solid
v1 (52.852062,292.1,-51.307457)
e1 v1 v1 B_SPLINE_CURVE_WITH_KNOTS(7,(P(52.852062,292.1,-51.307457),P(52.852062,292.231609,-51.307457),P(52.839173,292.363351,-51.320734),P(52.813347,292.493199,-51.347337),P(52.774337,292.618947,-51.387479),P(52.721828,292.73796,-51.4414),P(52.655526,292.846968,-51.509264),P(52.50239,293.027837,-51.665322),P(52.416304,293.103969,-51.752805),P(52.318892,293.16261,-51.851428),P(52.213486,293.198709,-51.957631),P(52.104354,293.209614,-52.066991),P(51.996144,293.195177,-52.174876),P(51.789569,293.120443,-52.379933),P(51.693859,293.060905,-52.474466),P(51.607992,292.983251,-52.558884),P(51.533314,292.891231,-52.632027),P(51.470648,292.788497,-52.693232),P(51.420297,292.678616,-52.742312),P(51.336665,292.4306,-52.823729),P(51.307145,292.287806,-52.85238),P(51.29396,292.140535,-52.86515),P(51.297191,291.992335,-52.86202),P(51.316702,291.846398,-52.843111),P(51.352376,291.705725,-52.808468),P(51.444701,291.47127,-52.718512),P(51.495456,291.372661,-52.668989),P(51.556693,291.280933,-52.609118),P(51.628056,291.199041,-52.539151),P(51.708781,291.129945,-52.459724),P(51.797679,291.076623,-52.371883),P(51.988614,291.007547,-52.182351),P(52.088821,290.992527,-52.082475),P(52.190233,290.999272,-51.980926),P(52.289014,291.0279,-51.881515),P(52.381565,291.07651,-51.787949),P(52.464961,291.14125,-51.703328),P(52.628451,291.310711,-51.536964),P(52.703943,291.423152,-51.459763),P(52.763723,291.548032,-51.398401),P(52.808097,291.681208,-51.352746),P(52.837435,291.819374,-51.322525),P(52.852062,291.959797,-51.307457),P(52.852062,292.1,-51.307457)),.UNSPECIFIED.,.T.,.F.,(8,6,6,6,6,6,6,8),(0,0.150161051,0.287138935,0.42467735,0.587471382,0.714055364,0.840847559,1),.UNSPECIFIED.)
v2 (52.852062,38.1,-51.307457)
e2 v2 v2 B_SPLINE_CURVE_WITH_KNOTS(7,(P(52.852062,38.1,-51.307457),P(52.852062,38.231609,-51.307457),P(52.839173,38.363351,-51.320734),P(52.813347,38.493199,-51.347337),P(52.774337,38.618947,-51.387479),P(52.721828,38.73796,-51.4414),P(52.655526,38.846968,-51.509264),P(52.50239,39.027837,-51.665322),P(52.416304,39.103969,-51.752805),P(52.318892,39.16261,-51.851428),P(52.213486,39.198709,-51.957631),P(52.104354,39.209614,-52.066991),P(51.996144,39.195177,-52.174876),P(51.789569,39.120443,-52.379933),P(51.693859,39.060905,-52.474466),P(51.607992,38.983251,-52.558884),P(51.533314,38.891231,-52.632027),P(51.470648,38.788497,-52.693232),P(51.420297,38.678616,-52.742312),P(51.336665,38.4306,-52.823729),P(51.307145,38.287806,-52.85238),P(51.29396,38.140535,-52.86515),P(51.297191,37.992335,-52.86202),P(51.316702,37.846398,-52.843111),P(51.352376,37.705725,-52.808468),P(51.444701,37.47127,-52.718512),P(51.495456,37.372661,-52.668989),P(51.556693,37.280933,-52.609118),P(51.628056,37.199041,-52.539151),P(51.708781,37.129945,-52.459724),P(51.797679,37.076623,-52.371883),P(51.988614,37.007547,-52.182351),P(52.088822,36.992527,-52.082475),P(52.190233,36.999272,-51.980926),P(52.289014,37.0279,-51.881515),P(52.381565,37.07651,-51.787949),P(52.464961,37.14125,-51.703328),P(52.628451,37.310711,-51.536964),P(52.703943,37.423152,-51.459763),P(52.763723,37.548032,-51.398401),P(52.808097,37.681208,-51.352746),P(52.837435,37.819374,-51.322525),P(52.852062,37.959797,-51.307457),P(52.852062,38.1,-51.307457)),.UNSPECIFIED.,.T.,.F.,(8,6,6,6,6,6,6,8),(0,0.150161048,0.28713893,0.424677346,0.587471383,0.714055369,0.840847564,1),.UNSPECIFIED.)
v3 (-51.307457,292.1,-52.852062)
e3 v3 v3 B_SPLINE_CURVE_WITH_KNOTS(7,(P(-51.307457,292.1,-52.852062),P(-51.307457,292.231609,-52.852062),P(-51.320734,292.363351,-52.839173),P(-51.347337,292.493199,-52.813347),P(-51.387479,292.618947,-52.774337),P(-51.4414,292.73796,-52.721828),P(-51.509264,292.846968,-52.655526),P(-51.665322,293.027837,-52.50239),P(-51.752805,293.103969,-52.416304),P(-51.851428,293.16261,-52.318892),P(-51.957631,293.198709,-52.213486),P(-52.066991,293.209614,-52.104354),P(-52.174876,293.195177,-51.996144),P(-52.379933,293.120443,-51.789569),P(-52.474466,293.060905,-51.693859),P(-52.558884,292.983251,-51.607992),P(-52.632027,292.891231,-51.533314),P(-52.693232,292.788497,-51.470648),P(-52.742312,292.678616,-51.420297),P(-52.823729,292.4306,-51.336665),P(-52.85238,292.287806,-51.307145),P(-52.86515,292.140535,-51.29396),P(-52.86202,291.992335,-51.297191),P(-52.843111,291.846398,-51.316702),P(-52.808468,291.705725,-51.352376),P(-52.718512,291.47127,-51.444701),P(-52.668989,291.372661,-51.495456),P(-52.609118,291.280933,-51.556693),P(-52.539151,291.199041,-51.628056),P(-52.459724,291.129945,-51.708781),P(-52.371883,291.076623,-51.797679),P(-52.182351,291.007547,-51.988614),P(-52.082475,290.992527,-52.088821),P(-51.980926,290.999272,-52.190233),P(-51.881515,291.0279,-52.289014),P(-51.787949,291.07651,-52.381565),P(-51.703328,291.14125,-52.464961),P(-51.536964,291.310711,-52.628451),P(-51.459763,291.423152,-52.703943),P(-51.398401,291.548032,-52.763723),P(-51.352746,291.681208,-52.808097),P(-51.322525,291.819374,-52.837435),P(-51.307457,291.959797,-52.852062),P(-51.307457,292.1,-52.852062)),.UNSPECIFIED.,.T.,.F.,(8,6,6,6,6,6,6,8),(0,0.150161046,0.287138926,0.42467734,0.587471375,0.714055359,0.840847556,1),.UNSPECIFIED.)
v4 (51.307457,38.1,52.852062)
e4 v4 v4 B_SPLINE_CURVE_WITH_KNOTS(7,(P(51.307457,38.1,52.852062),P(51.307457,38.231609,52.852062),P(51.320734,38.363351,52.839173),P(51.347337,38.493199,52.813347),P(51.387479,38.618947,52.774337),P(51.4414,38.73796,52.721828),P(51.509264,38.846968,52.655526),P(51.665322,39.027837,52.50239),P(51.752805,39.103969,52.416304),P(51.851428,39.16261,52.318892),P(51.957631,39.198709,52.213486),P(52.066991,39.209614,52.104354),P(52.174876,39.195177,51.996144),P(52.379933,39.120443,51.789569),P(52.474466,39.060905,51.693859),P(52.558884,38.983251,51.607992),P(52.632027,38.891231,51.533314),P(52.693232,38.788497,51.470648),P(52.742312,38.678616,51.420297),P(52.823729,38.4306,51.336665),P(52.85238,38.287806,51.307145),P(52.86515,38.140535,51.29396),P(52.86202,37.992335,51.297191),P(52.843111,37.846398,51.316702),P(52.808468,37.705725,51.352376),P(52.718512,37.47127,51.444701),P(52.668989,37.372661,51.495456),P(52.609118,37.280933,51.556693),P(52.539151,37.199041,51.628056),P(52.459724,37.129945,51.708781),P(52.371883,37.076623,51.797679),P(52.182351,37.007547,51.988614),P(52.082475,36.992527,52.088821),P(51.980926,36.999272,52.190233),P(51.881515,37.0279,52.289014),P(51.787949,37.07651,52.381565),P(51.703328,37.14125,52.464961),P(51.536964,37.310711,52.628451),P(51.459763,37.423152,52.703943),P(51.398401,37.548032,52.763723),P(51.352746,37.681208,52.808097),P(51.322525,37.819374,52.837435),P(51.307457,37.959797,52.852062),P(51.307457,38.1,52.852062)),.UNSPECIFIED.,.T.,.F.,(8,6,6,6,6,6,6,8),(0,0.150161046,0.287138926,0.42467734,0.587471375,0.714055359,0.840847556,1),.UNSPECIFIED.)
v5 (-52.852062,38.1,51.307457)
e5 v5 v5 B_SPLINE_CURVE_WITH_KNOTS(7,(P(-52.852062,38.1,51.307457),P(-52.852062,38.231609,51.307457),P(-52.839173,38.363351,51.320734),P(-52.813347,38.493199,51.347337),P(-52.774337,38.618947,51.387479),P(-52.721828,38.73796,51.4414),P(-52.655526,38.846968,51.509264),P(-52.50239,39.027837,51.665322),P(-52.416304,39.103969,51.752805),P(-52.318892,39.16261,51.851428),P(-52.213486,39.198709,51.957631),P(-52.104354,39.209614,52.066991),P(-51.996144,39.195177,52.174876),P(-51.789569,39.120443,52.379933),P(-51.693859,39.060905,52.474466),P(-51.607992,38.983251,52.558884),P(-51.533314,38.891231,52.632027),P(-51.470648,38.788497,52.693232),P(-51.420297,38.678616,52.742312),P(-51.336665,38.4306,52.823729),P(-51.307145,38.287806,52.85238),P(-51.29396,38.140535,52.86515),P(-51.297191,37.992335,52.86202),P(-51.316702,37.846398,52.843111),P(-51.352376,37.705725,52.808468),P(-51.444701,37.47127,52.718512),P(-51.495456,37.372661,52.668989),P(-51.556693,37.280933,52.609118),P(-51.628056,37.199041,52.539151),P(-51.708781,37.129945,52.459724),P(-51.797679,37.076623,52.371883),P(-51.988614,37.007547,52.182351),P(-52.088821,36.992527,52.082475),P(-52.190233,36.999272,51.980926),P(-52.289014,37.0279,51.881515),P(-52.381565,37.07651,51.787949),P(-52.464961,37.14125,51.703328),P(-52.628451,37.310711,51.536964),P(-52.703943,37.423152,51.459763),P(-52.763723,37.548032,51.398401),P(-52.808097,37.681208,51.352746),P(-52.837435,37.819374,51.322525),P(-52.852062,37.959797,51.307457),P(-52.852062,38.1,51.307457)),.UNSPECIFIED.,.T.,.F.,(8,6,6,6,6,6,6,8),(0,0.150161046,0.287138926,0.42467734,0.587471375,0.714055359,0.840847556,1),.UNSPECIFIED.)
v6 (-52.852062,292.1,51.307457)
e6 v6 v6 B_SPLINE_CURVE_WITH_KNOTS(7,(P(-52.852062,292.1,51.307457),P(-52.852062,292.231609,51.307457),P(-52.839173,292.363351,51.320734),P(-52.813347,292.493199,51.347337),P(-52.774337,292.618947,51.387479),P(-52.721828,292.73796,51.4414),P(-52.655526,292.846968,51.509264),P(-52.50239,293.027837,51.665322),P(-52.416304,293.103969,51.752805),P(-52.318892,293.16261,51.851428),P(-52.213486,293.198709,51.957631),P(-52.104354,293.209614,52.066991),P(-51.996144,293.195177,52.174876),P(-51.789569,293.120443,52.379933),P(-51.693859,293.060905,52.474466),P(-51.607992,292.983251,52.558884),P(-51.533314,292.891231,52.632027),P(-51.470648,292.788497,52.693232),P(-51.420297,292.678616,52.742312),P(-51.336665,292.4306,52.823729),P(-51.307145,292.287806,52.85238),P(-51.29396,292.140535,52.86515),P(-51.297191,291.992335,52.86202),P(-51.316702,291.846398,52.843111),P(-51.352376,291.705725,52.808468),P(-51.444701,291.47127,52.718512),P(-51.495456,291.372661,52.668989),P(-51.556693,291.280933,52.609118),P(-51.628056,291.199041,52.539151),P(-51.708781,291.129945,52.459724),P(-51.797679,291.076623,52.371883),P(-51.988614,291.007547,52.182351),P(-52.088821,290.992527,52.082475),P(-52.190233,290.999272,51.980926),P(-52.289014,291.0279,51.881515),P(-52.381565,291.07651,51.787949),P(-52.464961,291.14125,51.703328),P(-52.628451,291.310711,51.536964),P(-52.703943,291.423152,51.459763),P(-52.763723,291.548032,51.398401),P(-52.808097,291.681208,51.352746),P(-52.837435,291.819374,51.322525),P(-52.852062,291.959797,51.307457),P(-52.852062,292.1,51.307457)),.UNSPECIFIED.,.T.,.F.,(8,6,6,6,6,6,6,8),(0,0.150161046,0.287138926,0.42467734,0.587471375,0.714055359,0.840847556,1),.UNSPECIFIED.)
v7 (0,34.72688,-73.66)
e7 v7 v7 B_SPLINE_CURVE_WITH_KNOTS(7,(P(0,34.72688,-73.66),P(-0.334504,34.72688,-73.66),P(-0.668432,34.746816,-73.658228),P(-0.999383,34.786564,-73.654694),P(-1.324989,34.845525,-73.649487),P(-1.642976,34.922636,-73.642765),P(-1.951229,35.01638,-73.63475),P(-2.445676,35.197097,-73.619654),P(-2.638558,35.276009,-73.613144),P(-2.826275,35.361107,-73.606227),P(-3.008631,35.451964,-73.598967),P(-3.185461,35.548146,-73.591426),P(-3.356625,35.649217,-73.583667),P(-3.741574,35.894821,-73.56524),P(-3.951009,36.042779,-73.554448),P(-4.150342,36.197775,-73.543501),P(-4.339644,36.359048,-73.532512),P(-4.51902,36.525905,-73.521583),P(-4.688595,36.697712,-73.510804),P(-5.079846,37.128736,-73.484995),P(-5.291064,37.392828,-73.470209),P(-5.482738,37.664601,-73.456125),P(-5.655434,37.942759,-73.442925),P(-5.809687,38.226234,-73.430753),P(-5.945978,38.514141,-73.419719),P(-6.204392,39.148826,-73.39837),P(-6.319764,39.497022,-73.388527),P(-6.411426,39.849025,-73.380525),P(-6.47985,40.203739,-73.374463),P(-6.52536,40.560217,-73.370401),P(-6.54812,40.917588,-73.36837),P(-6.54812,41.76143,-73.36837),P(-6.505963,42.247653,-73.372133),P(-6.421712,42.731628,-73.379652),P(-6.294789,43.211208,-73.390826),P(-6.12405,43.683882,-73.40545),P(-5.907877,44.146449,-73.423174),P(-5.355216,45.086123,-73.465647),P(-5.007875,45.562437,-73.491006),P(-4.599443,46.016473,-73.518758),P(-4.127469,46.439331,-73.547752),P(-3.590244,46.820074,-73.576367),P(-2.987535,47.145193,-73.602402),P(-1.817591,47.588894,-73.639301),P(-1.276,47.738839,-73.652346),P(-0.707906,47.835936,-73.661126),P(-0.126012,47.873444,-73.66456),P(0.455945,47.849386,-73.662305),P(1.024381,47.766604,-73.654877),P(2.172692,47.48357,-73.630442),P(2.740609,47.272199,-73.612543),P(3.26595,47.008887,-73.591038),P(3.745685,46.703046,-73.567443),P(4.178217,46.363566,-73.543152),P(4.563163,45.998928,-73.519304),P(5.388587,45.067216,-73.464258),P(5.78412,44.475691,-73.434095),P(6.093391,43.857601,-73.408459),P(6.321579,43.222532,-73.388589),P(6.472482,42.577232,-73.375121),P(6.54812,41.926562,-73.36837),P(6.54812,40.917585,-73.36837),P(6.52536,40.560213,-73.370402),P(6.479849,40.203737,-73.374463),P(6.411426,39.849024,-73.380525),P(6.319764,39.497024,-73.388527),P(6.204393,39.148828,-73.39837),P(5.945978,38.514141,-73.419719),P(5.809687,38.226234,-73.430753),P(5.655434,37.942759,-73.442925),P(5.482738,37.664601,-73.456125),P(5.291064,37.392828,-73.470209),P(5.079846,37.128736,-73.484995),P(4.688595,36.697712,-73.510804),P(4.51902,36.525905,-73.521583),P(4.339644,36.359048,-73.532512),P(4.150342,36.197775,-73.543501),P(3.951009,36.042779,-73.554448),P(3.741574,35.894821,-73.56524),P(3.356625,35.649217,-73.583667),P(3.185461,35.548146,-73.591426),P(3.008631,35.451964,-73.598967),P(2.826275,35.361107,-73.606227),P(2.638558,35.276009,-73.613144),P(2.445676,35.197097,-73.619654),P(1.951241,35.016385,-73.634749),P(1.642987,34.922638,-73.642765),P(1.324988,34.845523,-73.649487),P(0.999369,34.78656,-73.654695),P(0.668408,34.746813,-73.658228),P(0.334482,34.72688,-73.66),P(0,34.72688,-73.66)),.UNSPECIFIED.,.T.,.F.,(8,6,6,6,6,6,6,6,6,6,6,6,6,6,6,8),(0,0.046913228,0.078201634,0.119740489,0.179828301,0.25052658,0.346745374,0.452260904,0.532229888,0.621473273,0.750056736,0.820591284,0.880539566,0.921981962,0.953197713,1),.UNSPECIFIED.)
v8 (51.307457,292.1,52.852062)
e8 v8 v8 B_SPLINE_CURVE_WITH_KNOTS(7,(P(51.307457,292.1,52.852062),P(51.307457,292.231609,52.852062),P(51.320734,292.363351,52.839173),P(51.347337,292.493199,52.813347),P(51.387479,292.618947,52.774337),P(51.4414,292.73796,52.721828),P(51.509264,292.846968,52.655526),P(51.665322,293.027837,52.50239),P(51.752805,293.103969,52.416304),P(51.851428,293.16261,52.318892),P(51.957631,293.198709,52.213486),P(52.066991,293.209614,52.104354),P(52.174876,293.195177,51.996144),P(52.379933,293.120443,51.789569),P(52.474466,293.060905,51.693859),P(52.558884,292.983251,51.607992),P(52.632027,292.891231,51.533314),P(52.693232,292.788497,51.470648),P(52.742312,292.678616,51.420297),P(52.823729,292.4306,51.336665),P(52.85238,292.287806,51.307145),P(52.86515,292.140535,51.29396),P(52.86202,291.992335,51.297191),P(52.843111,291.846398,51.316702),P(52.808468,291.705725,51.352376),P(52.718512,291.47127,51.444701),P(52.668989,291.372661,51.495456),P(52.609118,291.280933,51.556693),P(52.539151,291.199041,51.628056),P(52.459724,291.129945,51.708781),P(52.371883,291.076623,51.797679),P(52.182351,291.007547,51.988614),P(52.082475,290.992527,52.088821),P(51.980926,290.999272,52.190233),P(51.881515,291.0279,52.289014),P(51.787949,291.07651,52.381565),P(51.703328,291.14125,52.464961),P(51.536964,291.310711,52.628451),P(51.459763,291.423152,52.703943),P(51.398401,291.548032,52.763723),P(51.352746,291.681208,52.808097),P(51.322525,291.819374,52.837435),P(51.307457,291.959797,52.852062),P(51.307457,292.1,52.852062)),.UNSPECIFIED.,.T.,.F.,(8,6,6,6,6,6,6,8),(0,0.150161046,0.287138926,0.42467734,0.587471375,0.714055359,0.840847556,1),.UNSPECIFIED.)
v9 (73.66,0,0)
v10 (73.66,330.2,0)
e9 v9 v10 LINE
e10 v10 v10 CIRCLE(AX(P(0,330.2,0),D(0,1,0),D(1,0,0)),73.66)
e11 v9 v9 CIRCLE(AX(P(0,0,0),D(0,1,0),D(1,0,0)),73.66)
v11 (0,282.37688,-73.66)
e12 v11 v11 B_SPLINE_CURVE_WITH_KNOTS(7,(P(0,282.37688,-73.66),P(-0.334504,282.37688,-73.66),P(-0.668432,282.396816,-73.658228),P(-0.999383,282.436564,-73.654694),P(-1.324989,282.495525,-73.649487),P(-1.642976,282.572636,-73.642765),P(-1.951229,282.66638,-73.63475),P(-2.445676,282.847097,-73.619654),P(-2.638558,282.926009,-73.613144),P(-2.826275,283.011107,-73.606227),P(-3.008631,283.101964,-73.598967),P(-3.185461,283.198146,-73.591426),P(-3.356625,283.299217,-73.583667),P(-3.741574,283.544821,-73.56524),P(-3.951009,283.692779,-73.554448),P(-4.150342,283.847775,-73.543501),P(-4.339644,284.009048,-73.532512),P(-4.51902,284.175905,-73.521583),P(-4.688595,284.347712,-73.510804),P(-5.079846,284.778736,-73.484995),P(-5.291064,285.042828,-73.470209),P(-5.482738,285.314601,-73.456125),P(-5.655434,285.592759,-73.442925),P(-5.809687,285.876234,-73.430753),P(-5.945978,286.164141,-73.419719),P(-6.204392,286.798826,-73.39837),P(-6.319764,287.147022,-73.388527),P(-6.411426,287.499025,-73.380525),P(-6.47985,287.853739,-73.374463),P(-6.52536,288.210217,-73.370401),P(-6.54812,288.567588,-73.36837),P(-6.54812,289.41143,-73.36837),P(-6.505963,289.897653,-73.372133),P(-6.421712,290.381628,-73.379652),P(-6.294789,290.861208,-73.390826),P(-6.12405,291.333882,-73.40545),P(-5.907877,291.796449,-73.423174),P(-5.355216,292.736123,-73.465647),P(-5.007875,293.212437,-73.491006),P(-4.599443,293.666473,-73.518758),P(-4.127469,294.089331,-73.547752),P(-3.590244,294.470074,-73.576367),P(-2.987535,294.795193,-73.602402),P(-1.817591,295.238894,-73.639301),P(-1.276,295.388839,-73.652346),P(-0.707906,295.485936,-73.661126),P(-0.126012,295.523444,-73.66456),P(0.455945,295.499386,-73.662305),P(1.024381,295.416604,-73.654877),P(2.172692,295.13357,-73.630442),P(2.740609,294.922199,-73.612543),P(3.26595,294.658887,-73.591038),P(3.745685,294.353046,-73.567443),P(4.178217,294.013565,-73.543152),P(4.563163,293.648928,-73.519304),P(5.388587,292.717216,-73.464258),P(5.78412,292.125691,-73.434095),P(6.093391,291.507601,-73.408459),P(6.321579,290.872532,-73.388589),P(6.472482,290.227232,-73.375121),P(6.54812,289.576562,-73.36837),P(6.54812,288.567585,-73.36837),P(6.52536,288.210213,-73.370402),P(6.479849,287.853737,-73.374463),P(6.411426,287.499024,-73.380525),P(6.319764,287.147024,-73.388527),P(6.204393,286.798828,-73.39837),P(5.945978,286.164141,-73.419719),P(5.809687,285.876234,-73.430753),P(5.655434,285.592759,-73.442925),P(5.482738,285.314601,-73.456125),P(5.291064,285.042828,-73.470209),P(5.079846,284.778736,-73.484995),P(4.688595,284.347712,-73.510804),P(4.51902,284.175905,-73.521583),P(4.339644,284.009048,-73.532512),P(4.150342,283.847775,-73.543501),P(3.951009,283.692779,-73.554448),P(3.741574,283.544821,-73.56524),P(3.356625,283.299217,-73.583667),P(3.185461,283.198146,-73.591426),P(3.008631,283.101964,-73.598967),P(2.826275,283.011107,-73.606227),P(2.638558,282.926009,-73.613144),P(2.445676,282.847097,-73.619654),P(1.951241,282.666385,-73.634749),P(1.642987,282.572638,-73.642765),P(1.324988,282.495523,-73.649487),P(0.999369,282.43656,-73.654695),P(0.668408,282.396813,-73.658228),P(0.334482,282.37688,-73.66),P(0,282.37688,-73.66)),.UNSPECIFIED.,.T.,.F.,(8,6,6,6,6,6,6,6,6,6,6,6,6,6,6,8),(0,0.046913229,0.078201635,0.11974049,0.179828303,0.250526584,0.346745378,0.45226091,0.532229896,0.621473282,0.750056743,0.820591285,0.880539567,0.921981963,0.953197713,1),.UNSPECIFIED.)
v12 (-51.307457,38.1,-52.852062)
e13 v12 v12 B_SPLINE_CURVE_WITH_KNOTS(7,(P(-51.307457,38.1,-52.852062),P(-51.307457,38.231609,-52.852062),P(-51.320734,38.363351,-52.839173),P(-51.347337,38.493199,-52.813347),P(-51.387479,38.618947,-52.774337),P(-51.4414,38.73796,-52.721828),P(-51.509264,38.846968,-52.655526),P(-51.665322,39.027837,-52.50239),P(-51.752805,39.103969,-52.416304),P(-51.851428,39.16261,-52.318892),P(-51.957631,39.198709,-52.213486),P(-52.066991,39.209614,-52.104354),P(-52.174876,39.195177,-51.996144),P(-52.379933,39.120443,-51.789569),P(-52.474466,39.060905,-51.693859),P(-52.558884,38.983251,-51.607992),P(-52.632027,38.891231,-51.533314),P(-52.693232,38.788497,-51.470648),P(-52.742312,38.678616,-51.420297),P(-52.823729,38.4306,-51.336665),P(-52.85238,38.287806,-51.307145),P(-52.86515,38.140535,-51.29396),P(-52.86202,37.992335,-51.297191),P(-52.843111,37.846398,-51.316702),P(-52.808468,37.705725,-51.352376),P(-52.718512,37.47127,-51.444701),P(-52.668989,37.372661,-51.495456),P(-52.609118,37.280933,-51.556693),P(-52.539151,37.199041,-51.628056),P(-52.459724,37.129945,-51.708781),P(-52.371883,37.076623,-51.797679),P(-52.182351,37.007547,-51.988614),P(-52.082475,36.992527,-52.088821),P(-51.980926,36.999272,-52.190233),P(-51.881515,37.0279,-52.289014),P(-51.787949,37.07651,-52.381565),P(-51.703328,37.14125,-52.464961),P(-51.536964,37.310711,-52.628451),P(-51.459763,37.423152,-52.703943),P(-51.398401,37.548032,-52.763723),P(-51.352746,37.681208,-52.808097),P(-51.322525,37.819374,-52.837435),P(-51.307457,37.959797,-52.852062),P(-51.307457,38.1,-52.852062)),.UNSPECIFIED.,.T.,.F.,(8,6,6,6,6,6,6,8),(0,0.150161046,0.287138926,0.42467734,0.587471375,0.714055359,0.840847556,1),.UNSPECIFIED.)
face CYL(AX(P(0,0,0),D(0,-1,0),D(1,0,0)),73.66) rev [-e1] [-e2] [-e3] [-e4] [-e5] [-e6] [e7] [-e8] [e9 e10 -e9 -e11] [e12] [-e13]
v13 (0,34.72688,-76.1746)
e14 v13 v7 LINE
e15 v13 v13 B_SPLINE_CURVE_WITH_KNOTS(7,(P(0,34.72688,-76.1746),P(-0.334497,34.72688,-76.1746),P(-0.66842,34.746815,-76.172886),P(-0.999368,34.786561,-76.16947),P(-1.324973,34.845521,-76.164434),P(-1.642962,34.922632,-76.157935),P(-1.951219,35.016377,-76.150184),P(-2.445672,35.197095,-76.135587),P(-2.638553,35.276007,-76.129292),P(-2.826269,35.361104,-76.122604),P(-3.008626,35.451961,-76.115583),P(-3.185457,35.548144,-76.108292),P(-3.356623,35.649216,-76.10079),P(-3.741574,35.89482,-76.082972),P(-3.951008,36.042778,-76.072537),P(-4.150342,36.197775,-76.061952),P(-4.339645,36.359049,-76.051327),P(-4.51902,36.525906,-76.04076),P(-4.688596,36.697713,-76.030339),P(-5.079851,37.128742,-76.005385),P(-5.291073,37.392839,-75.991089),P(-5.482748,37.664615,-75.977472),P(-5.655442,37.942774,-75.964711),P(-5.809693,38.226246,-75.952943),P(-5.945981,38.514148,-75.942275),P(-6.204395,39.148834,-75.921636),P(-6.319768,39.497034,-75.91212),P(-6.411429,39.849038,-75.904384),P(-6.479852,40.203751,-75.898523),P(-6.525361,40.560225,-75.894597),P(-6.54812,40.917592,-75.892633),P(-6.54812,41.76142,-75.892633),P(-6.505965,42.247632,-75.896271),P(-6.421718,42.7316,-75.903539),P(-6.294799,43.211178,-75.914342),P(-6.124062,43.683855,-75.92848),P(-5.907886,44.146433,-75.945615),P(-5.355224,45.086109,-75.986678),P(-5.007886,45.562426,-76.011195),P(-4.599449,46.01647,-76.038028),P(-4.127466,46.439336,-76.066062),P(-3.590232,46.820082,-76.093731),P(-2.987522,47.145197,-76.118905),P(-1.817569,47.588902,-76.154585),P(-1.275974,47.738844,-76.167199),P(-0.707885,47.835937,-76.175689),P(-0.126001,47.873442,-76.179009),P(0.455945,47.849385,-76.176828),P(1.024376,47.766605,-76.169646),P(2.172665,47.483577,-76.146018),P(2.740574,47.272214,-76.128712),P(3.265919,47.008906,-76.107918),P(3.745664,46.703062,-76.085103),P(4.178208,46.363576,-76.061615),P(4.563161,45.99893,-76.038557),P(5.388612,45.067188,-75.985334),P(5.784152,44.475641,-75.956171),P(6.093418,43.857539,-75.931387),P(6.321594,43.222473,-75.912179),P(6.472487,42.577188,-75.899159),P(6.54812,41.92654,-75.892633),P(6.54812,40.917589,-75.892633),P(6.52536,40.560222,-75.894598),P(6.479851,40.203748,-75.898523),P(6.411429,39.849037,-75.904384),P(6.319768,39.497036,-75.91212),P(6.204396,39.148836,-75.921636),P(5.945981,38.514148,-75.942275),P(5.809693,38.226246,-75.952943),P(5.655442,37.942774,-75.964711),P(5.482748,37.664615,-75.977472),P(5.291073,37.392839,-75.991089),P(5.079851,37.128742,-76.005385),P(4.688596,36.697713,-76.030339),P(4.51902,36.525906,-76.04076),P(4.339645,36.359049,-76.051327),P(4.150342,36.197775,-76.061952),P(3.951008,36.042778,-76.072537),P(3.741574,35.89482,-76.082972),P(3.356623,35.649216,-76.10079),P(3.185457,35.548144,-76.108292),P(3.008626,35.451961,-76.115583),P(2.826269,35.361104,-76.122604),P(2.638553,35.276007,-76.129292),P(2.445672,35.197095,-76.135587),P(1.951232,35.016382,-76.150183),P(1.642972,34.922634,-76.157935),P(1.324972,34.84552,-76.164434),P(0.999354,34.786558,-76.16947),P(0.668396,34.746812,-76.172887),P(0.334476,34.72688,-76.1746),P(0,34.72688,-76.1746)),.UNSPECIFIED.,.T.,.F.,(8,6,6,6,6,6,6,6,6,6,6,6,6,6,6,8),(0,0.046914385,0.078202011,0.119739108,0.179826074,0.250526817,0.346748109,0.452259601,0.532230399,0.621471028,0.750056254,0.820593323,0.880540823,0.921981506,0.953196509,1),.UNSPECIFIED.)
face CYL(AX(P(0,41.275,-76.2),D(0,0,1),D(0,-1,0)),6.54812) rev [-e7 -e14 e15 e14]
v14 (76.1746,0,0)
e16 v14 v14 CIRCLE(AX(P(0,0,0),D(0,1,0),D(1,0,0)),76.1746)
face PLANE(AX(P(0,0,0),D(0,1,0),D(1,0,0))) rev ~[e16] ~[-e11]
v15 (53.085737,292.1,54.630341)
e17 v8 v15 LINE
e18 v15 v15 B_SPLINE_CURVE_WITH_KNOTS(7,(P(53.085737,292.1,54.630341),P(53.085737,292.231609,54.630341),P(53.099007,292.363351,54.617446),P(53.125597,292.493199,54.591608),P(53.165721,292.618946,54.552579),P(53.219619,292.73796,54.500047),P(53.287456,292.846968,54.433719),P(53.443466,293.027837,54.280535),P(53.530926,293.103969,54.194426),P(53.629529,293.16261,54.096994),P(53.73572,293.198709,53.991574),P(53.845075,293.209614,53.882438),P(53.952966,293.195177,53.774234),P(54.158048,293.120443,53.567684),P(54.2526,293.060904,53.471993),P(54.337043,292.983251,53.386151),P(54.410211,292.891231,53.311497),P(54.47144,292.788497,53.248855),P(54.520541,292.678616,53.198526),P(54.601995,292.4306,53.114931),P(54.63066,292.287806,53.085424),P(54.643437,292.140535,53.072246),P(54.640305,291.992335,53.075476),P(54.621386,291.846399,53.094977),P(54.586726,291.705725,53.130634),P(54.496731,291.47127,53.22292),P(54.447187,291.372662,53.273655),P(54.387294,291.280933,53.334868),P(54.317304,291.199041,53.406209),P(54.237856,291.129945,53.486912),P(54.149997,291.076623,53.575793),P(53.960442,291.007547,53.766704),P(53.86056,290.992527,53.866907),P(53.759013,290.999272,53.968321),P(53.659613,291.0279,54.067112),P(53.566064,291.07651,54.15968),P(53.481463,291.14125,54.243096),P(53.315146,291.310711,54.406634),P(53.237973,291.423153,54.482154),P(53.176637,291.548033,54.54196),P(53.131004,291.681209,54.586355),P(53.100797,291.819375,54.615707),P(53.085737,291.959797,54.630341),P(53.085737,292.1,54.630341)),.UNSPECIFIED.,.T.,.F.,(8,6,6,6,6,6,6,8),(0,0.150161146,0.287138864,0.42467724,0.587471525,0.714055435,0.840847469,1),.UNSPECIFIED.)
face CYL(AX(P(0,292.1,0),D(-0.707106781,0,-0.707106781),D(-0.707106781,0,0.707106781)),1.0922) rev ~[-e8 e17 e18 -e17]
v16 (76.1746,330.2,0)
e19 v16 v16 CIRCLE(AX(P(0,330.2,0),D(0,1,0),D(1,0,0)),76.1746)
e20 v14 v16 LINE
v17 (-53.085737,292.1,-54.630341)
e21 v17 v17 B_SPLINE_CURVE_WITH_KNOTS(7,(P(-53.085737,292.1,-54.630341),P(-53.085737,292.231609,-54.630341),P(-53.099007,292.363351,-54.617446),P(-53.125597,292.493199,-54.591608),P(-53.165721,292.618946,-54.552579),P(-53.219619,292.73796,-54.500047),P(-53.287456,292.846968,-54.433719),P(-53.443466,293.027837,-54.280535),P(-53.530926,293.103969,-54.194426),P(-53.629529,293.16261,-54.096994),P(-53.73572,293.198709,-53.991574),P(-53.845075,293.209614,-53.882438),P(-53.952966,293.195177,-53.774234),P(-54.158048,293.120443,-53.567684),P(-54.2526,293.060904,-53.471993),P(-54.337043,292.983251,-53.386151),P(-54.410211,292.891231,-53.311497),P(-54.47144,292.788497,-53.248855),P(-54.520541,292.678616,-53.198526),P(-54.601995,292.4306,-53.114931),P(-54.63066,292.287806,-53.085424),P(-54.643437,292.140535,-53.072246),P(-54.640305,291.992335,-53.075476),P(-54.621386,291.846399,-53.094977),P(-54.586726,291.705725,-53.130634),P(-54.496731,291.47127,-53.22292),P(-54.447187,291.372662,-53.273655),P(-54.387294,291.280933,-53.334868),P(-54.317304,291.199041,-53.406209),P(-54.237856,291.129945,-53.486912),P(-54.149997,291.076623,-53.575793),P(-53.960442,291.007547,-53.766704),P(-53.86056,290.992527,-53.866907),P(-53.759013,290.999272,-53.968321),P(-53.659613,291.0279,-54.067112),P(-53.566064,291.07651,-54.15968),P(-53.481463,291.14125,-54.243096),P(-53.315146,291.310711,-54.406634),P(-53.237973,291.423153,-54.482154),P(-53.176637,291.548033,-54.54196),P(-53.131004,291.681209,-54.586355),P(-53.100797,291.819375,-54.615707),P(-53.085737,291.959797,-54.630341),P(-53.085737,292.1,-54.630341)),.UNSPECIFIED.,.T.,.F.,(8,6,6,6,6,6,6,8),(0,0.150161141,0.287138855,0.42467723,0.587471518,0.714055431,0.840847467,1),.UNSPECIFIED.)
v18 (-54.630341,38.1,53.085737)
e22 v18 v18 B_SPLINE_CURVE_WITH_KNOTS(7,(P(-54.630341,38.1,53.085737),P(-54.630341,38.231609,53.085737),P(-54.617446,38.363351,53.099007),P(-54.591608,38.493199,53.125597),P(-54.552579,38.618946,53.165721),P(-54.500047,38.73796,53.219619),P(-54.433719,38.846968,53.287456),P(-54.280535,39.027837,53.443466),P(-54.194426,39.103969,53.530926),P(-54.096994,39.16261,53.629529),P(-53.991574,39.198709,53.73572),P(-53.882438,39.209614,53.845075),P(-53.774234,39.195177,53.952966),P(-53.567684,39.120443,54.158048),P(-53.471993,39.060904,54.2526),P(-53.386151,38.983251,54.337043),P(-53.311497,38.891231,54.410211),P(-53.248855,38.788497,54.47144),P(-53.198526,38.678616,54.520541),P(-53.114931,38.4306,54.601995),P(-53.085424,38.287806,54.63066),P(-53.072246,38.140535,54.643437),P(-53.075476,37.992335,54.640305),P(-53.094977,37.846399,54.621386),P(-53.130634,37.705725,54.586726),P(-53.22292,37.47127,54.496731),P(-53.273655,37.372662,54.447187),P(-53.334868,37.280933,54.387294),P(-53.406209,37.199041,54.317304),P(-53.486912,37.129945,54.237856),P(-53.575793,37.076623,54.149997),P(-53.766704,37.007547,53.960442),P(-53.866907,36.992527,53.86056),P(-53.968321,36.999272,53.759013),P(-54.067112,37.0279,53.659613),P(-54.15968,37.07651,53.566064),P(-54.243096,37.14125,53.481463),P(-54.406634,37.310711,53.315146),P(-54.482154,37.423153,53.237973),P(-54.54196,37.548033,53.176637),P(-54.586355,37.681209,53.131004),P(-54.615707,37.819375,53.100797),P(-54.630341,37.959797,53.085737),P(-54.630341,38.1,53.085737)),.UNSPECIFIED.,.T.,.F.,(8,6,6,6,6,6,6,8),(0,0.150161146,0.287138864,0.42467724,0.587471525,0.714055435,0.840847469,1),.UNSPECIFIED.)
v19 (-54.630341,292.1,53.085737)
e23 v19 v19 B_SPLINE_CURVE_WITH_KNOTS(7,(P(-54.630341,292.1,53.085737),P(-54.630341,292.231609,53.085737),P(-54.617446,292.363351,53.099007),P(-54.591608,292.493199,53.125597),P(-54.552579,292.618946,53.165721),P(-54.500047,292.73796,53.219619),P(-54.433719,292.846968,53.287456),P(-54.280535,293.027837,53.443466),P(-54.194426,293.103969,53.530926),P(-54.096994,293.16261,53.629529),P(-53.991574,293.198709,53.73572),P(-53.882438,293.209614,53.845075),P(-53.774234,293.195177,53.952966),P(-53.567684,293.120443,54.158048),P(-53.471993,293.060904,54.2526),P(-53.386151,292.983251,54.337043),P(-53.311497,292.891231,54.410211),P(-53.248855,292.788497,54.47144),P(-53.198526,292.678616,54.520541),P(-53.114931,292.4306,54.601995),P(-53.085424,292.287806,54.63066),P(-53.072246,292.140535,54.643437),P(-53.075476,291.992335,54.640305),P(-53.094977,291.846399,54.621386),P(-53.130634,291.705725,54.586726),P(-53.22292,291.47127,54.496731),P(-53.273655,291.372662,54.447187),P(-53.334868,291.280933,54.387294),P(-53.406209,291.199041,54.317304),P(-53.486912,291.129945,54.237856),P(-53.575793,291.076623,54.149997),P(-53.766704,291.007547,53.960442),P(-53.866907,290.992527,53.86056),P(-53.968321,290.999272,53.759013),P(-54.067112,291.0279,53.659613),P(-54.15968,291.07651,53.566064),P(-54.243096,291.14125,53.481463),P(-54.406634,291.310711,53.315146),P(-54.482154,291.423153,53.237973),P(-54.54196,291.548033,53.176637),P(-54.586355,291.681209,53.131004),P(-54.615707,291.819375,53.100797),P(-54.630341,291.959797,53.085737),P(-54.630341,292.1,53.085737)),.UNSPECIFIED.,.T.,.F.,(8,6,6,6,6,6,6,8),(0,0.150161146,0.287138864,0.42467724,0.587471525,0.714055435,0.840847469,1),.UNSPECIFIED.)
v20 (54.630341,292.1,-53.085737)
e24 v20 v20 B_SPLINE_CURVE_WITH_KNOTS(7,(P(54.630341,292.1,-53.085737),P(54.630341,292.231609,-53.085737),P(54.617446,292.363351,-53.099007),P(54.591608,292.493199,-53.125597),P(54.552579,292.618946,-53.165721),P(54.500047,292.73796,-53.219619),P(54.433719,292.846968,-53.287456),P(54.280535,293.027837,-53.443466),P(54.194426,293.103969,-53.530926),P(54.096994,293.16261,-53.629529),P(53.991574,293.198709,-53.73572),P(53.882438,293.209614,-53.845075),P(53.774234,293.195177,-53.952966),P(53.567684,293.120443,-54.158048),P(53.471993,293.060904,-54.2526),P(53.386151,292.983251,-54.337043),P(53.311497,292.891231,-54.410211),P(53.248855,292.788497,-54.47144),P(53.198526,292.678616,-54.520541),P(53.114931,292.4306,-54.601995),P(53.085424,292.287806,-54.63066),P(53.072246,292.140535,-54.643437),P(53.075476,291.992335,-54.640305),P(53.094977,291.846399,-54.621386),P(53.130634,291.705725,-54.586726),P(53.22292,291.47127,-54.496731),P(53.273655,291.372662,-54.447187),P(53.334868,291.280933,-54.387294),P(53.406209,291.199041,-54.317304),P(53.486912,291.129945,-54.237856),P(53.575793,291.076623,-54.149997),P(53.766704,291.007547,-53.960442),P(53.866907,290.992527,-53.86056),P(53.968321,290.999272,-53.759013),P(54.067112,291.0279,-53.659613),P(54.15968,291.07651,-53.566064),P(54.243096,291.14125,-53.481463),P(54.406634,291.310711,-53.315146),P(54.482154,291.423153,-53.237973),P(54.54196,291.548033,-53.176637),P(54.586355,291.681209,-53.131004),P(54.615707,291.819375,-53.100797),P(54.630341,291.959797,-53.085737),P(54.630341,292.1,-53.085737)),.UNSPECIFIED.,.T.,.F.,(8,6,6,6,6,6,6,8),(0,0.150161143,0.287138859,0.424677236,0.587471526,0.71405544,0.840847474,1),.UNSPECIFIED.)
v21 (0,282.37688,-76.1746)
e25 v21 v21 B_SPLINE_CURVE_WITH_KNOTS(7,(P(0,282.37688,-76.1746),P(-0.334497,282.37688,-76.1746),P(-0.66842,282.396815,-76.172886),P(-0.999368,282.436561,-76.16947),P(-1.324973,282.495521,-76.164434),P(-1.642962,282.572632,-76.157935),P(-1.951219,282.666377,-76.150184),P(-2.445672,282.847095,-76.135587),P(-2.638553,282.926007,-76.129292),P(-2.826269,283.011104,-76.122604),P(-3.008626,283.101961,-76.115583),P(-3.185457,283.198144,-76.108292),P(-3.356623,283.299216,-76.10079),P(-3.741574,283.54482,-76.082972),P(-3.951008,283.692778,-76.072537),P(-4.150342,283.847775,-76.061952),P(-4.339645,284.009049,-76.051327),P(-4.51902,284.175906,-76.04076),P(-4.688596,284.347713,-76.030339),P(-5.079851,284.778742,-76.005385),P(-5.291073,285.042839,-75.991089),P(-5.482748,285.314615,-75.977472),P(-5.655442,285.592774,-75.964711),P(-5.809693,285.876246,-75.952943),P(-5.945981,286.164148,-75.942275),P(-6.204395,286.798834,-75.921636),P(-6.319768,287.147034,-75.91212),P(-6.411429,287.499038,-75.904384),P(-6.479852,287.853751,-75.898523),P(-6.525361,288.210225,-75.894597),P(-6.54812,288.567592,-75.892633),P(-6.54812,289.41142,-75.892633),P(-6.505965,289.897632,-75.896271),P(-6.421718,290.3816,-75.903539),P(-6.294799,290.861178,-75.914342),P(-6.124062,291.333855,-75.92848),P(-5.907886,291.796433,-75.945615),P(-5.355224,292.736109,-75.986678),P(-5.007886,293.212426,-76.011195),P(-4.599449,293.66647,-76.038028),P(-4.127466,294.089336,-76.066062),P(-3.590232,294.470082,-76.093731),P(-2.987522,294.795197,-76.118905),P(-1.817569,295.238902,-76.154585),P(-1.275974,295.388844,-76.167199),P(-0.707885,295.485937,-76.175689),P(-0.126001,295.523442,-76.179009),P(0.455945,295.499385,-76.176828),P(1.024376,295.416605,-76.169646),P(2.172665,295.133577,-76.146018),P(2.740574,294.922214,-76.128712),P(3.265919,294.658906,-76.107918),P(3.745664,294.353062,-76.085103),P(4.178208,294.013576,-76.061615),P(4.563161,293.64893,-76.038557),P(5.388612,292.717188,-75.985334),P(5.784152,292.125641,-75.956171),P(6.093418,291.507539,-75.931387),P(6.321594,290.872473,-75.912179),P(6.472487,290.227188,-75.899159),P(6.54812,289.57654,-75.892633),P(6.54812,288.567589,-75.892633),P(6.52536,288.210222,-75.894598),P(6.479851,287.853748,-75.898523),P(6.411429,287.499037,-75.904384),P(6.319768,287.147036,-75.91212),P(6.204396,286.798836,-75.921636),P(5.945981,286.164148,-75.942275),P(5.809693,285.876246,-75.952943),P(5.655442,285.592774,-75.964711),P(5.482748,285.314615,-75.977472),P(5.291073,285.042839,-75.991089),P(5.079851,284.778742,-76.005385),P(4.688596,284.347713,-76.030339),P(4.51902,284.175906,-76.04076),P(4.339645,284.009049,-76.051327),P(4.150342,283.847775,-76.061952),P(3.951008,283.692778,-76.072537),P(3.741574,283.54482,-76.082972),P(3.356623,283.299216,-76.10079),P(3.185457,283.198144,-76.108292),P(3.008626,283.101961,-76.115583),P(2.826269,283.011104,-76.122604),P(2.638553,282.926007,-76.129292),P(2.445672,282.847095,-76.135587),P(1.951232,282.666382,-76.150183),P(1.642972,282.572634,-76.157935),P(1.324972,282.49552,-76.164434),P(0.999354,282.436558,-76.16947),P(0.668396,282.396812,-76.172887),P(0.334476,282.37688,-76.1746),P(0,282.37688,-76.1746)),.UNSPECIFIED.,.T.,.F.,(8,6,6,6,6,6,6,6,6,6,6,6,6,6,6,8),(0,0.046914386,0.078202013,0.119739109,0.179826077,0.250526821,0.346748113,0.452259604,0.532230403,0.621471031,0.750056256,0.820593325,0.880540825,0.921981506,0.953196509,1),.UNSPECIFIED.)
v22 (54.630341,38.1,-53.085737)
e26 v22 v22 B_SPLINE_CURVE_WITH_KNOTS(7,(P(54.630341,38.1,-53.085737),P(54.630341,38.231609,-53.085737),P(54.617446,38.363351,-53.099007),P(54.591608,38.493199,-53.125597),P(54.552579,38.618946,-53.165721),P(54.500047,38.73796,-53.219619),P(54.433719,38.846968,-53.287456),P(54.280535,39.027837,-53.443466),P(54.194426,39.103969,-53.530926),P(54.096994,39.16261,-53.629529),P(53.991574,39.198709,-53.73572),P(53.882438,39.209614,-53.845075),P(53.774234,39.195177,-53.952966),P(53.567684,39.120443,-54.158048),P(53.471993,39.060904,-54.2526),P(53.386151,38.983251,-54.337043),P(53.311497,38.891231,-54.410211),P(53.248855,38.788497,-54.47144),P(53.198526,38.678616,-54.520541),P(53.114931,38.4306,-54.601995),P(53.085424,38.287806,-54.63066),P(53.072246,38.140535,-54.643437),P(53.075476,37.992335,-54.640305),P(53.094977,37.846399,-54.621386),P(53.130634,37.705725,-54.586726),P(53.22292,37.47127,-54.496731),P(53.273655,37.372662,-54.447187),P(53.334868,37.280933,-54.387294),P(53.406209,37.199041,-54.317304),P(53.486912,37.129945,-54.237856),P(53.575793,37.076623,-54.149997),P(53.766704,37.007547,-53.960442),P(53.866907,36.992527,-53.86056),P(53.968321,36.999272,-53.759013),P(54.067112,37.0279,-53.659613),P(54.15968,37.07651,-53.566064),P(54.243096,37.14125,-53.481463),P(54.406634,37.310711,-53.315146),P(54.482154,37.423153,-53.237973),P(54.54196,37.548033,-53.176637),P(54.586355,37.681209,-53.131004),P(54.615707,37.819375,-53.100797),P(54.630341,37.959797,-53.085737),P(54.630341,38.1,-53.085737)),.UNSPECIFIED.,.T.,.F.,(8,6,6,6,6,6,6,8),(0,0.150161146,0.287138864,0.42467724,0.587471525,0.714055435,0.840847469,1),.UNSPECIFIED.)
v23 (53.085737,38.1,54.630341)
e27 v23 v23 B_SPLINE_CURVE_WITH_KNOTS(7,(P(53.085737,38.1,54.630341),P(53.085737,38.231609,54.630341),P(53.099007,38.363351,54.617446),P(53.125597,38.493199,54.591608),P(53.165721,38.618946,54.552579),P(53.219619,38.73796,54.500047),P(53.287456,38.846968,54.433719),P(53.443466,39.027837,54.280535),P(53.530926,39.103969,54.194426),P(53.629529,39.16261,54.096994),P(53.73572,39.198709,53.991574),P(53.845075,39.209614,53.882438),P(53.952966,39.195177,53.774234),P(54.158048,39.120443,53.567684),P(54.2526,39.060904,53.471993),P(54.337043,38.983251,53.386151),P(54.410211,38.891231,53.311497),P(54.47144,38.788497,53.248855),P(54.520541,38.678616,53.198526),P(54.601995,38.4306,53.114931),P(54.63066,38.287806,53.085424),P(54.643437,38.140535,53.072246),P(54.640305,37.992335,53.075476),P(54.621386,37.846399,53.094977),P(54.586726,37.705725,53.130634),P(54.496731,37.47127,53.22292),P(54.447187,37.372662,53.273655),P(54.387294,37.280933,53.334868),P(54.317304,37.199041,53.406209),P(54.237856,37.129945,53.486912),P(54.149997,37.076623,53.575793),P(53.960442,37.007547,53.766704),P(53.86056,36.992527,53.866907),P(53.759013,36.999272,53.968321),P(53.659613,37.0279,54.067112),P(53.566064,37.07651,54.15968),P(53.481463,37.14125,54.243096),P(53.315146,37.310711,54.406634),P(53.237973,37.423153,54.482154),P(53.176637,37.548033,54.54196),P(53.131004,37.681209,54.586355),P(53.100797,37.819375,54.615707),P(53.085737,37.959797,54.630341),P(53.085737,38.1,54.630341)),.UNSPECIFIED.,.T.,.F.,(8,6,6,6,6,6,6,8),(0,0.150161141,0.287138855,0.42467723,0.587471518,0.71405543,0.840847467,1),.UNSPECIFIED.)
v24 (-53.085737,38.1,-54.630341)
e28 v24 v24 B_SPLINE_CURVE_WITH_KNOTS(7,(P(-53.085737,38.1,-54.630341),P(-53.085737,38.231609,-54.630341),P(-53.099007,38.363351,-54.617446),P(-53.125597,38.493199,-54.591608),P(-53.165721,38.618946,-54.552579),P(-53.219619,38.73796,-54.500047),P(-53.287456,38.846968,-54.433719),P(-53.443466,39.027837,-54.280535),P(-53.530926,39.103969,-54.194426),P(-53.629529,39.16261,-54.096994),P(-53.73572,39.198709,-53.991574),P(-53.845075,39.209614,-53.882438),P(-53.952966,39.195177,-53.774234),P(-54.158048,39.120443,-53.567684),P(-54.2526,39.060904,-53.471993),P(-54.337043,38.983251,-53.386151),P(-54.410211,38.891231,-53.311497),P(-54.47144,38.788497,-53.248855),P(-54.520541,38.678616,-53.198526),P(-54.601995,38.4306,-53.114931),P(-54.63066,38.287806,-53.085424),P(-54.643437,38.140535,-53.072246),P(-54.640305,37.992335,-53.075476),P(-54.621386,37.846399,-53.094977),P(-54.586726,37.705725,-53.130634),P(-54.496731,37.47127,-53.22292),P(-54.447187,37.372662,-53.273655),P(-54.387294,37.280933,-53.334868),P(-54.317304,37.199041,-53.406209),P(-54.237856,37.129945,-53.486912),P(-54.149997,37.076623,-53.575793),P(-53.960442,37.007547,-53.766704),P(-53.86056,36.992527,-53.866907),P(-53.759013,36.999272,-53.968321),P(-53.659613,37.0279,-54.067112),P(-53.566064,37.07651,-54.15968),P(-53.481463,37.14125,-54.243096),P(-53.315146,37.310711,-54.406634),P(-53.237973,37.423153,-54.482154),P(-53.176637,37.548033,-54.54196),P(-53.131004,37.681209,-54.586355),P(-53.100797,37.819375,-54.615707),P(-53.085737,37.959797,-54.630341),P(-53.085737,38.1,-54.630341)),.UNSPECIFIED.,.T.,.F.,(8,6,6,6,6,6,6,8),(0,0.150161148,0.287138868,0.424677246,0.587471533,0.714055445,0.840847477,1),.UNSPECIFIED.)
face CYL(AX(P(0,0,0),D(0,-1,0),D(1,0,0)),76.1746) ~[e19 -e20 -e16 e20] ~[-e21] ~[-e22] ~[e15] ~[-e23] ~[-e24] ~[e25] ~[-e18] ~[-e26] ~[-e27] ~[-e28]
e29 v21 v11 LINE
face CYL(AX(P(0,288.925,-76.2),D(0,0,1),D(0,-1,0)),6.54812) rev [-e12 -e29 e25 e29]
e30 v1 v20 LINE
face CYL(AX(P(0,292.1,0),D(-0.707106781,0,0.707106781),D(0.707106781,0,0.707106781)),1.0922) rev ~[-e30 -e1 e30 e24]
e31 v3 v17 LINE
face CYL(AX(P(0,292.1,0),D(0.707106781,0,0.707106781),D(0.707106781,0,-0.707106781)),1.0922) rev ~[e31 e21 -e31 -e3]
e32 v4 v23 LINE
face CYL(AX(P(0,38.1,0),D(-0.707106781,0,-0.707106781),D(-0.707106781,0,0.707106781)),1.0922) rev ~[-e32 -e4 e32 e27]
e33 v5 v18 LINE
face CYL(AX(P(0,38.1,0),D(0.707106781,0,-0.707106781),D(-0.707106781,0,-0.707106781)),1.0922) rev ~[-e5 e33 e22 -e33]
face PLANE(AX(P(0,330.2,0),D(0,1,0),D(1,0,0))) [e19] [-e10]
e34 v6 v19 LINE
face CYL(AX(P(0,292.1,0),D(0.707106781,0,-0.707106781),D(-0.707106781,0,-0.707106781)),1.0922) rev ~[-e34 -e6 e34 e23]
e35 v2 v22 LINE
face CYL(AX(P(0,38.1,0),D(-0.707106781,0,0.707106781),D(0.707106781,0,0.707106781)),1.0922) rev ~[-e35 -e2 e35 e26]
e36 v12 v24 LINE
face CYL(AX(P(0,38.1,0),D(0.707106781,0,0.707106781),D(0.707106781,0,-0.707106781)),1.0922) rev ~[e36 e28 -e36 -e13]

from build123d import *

# Parameters (mm, degrees)
SKETCH1_R           = 76.1746
SKETCH1_R_2         = 73.66
BOSS_EXTRUDE1_DEPTH = 330.2
SKETCH23_R          = 1.0922
SHEAR_SCRREWS_DEPTH = 108.72715257
CIRPATTERN1_COUNT   = 4


with BuildPart() as part:
    # Sketch1 → Boss-Extrude1 (new body)
    with BuildSketch(Plane(origin=(0, 0, 0), x_dir=(1, 0, 0), z_dir=(0, 1, 0))):
        Circle(SKETCH1_R)
        Circle(SKETCH1_R_2, mode=Mode.SUBTRACT)
    extrude(amount=BOSS_EXTRUDE1_DEPTH)

    # Sketch17 → 1/2 Clearance Hole5 (revolve, cut)
    with BuildSketch(Plane(origin=(0, 288.925, 0), x_dir=(0, -1, 0), z_dir=(1, 0, 0))):
        Polygon((0, 0), (0, 80.134507437), (6.54812, 76.2), (6.54812, 0), align=None)
    revolve(axis=Axis((0, 288.925, 6.35), (0, 0, -1)), mode=Mode.SUBTRACT)

    # Sketch21 → 1/2 Clearance Hole7 (revolve, cut)
    with BuildSketch(Plane(origin=(0, 41.275, 0), x_dir=(0, -1, 0), z_dir=(1, 0, 0))):
        Polygon((0, 0), (0, 80.134507437), (6.54812, 76.2), (6.54812, 0), align=None)
    revolve(axis=Axis((0, 41.275, 6.35), (0, 0, -1)), mode=Mode.SUBTRACT)

    # Sketch23 → Shear Scrrews (cut, through all)
    with BuildSketch(Plane(origin=(0, 0, 0), x_dir=(0.707106781, 0, 0.707106781), z_dir=(-0.707106781, 0, 0.707106781))):
        with Locations((0, 292.1)):
            Circle(SKETCH23_R)
        with Locations((0, 38.1)):
            Circle(SKETCH23_R)
    shear_scrrews = extrude(amount=-SHEAR_SCRREWS_DEPTH, mode=Mode.SUBTRACT)

    # CirPattern1: Shear Scrrews ×4 about axis
    cirpattern1_axis = Axis((0, 330.2, 0), (0, -1, 0))
    for i in range(1, CIRPATTERN1_COUNT):
        add(shear_scrrews.rotate(cirpattern1_axis, i * 360 / CIRPATTERN1_COUNT), mode=Mode.SUBTRACT)


solid = part.part
